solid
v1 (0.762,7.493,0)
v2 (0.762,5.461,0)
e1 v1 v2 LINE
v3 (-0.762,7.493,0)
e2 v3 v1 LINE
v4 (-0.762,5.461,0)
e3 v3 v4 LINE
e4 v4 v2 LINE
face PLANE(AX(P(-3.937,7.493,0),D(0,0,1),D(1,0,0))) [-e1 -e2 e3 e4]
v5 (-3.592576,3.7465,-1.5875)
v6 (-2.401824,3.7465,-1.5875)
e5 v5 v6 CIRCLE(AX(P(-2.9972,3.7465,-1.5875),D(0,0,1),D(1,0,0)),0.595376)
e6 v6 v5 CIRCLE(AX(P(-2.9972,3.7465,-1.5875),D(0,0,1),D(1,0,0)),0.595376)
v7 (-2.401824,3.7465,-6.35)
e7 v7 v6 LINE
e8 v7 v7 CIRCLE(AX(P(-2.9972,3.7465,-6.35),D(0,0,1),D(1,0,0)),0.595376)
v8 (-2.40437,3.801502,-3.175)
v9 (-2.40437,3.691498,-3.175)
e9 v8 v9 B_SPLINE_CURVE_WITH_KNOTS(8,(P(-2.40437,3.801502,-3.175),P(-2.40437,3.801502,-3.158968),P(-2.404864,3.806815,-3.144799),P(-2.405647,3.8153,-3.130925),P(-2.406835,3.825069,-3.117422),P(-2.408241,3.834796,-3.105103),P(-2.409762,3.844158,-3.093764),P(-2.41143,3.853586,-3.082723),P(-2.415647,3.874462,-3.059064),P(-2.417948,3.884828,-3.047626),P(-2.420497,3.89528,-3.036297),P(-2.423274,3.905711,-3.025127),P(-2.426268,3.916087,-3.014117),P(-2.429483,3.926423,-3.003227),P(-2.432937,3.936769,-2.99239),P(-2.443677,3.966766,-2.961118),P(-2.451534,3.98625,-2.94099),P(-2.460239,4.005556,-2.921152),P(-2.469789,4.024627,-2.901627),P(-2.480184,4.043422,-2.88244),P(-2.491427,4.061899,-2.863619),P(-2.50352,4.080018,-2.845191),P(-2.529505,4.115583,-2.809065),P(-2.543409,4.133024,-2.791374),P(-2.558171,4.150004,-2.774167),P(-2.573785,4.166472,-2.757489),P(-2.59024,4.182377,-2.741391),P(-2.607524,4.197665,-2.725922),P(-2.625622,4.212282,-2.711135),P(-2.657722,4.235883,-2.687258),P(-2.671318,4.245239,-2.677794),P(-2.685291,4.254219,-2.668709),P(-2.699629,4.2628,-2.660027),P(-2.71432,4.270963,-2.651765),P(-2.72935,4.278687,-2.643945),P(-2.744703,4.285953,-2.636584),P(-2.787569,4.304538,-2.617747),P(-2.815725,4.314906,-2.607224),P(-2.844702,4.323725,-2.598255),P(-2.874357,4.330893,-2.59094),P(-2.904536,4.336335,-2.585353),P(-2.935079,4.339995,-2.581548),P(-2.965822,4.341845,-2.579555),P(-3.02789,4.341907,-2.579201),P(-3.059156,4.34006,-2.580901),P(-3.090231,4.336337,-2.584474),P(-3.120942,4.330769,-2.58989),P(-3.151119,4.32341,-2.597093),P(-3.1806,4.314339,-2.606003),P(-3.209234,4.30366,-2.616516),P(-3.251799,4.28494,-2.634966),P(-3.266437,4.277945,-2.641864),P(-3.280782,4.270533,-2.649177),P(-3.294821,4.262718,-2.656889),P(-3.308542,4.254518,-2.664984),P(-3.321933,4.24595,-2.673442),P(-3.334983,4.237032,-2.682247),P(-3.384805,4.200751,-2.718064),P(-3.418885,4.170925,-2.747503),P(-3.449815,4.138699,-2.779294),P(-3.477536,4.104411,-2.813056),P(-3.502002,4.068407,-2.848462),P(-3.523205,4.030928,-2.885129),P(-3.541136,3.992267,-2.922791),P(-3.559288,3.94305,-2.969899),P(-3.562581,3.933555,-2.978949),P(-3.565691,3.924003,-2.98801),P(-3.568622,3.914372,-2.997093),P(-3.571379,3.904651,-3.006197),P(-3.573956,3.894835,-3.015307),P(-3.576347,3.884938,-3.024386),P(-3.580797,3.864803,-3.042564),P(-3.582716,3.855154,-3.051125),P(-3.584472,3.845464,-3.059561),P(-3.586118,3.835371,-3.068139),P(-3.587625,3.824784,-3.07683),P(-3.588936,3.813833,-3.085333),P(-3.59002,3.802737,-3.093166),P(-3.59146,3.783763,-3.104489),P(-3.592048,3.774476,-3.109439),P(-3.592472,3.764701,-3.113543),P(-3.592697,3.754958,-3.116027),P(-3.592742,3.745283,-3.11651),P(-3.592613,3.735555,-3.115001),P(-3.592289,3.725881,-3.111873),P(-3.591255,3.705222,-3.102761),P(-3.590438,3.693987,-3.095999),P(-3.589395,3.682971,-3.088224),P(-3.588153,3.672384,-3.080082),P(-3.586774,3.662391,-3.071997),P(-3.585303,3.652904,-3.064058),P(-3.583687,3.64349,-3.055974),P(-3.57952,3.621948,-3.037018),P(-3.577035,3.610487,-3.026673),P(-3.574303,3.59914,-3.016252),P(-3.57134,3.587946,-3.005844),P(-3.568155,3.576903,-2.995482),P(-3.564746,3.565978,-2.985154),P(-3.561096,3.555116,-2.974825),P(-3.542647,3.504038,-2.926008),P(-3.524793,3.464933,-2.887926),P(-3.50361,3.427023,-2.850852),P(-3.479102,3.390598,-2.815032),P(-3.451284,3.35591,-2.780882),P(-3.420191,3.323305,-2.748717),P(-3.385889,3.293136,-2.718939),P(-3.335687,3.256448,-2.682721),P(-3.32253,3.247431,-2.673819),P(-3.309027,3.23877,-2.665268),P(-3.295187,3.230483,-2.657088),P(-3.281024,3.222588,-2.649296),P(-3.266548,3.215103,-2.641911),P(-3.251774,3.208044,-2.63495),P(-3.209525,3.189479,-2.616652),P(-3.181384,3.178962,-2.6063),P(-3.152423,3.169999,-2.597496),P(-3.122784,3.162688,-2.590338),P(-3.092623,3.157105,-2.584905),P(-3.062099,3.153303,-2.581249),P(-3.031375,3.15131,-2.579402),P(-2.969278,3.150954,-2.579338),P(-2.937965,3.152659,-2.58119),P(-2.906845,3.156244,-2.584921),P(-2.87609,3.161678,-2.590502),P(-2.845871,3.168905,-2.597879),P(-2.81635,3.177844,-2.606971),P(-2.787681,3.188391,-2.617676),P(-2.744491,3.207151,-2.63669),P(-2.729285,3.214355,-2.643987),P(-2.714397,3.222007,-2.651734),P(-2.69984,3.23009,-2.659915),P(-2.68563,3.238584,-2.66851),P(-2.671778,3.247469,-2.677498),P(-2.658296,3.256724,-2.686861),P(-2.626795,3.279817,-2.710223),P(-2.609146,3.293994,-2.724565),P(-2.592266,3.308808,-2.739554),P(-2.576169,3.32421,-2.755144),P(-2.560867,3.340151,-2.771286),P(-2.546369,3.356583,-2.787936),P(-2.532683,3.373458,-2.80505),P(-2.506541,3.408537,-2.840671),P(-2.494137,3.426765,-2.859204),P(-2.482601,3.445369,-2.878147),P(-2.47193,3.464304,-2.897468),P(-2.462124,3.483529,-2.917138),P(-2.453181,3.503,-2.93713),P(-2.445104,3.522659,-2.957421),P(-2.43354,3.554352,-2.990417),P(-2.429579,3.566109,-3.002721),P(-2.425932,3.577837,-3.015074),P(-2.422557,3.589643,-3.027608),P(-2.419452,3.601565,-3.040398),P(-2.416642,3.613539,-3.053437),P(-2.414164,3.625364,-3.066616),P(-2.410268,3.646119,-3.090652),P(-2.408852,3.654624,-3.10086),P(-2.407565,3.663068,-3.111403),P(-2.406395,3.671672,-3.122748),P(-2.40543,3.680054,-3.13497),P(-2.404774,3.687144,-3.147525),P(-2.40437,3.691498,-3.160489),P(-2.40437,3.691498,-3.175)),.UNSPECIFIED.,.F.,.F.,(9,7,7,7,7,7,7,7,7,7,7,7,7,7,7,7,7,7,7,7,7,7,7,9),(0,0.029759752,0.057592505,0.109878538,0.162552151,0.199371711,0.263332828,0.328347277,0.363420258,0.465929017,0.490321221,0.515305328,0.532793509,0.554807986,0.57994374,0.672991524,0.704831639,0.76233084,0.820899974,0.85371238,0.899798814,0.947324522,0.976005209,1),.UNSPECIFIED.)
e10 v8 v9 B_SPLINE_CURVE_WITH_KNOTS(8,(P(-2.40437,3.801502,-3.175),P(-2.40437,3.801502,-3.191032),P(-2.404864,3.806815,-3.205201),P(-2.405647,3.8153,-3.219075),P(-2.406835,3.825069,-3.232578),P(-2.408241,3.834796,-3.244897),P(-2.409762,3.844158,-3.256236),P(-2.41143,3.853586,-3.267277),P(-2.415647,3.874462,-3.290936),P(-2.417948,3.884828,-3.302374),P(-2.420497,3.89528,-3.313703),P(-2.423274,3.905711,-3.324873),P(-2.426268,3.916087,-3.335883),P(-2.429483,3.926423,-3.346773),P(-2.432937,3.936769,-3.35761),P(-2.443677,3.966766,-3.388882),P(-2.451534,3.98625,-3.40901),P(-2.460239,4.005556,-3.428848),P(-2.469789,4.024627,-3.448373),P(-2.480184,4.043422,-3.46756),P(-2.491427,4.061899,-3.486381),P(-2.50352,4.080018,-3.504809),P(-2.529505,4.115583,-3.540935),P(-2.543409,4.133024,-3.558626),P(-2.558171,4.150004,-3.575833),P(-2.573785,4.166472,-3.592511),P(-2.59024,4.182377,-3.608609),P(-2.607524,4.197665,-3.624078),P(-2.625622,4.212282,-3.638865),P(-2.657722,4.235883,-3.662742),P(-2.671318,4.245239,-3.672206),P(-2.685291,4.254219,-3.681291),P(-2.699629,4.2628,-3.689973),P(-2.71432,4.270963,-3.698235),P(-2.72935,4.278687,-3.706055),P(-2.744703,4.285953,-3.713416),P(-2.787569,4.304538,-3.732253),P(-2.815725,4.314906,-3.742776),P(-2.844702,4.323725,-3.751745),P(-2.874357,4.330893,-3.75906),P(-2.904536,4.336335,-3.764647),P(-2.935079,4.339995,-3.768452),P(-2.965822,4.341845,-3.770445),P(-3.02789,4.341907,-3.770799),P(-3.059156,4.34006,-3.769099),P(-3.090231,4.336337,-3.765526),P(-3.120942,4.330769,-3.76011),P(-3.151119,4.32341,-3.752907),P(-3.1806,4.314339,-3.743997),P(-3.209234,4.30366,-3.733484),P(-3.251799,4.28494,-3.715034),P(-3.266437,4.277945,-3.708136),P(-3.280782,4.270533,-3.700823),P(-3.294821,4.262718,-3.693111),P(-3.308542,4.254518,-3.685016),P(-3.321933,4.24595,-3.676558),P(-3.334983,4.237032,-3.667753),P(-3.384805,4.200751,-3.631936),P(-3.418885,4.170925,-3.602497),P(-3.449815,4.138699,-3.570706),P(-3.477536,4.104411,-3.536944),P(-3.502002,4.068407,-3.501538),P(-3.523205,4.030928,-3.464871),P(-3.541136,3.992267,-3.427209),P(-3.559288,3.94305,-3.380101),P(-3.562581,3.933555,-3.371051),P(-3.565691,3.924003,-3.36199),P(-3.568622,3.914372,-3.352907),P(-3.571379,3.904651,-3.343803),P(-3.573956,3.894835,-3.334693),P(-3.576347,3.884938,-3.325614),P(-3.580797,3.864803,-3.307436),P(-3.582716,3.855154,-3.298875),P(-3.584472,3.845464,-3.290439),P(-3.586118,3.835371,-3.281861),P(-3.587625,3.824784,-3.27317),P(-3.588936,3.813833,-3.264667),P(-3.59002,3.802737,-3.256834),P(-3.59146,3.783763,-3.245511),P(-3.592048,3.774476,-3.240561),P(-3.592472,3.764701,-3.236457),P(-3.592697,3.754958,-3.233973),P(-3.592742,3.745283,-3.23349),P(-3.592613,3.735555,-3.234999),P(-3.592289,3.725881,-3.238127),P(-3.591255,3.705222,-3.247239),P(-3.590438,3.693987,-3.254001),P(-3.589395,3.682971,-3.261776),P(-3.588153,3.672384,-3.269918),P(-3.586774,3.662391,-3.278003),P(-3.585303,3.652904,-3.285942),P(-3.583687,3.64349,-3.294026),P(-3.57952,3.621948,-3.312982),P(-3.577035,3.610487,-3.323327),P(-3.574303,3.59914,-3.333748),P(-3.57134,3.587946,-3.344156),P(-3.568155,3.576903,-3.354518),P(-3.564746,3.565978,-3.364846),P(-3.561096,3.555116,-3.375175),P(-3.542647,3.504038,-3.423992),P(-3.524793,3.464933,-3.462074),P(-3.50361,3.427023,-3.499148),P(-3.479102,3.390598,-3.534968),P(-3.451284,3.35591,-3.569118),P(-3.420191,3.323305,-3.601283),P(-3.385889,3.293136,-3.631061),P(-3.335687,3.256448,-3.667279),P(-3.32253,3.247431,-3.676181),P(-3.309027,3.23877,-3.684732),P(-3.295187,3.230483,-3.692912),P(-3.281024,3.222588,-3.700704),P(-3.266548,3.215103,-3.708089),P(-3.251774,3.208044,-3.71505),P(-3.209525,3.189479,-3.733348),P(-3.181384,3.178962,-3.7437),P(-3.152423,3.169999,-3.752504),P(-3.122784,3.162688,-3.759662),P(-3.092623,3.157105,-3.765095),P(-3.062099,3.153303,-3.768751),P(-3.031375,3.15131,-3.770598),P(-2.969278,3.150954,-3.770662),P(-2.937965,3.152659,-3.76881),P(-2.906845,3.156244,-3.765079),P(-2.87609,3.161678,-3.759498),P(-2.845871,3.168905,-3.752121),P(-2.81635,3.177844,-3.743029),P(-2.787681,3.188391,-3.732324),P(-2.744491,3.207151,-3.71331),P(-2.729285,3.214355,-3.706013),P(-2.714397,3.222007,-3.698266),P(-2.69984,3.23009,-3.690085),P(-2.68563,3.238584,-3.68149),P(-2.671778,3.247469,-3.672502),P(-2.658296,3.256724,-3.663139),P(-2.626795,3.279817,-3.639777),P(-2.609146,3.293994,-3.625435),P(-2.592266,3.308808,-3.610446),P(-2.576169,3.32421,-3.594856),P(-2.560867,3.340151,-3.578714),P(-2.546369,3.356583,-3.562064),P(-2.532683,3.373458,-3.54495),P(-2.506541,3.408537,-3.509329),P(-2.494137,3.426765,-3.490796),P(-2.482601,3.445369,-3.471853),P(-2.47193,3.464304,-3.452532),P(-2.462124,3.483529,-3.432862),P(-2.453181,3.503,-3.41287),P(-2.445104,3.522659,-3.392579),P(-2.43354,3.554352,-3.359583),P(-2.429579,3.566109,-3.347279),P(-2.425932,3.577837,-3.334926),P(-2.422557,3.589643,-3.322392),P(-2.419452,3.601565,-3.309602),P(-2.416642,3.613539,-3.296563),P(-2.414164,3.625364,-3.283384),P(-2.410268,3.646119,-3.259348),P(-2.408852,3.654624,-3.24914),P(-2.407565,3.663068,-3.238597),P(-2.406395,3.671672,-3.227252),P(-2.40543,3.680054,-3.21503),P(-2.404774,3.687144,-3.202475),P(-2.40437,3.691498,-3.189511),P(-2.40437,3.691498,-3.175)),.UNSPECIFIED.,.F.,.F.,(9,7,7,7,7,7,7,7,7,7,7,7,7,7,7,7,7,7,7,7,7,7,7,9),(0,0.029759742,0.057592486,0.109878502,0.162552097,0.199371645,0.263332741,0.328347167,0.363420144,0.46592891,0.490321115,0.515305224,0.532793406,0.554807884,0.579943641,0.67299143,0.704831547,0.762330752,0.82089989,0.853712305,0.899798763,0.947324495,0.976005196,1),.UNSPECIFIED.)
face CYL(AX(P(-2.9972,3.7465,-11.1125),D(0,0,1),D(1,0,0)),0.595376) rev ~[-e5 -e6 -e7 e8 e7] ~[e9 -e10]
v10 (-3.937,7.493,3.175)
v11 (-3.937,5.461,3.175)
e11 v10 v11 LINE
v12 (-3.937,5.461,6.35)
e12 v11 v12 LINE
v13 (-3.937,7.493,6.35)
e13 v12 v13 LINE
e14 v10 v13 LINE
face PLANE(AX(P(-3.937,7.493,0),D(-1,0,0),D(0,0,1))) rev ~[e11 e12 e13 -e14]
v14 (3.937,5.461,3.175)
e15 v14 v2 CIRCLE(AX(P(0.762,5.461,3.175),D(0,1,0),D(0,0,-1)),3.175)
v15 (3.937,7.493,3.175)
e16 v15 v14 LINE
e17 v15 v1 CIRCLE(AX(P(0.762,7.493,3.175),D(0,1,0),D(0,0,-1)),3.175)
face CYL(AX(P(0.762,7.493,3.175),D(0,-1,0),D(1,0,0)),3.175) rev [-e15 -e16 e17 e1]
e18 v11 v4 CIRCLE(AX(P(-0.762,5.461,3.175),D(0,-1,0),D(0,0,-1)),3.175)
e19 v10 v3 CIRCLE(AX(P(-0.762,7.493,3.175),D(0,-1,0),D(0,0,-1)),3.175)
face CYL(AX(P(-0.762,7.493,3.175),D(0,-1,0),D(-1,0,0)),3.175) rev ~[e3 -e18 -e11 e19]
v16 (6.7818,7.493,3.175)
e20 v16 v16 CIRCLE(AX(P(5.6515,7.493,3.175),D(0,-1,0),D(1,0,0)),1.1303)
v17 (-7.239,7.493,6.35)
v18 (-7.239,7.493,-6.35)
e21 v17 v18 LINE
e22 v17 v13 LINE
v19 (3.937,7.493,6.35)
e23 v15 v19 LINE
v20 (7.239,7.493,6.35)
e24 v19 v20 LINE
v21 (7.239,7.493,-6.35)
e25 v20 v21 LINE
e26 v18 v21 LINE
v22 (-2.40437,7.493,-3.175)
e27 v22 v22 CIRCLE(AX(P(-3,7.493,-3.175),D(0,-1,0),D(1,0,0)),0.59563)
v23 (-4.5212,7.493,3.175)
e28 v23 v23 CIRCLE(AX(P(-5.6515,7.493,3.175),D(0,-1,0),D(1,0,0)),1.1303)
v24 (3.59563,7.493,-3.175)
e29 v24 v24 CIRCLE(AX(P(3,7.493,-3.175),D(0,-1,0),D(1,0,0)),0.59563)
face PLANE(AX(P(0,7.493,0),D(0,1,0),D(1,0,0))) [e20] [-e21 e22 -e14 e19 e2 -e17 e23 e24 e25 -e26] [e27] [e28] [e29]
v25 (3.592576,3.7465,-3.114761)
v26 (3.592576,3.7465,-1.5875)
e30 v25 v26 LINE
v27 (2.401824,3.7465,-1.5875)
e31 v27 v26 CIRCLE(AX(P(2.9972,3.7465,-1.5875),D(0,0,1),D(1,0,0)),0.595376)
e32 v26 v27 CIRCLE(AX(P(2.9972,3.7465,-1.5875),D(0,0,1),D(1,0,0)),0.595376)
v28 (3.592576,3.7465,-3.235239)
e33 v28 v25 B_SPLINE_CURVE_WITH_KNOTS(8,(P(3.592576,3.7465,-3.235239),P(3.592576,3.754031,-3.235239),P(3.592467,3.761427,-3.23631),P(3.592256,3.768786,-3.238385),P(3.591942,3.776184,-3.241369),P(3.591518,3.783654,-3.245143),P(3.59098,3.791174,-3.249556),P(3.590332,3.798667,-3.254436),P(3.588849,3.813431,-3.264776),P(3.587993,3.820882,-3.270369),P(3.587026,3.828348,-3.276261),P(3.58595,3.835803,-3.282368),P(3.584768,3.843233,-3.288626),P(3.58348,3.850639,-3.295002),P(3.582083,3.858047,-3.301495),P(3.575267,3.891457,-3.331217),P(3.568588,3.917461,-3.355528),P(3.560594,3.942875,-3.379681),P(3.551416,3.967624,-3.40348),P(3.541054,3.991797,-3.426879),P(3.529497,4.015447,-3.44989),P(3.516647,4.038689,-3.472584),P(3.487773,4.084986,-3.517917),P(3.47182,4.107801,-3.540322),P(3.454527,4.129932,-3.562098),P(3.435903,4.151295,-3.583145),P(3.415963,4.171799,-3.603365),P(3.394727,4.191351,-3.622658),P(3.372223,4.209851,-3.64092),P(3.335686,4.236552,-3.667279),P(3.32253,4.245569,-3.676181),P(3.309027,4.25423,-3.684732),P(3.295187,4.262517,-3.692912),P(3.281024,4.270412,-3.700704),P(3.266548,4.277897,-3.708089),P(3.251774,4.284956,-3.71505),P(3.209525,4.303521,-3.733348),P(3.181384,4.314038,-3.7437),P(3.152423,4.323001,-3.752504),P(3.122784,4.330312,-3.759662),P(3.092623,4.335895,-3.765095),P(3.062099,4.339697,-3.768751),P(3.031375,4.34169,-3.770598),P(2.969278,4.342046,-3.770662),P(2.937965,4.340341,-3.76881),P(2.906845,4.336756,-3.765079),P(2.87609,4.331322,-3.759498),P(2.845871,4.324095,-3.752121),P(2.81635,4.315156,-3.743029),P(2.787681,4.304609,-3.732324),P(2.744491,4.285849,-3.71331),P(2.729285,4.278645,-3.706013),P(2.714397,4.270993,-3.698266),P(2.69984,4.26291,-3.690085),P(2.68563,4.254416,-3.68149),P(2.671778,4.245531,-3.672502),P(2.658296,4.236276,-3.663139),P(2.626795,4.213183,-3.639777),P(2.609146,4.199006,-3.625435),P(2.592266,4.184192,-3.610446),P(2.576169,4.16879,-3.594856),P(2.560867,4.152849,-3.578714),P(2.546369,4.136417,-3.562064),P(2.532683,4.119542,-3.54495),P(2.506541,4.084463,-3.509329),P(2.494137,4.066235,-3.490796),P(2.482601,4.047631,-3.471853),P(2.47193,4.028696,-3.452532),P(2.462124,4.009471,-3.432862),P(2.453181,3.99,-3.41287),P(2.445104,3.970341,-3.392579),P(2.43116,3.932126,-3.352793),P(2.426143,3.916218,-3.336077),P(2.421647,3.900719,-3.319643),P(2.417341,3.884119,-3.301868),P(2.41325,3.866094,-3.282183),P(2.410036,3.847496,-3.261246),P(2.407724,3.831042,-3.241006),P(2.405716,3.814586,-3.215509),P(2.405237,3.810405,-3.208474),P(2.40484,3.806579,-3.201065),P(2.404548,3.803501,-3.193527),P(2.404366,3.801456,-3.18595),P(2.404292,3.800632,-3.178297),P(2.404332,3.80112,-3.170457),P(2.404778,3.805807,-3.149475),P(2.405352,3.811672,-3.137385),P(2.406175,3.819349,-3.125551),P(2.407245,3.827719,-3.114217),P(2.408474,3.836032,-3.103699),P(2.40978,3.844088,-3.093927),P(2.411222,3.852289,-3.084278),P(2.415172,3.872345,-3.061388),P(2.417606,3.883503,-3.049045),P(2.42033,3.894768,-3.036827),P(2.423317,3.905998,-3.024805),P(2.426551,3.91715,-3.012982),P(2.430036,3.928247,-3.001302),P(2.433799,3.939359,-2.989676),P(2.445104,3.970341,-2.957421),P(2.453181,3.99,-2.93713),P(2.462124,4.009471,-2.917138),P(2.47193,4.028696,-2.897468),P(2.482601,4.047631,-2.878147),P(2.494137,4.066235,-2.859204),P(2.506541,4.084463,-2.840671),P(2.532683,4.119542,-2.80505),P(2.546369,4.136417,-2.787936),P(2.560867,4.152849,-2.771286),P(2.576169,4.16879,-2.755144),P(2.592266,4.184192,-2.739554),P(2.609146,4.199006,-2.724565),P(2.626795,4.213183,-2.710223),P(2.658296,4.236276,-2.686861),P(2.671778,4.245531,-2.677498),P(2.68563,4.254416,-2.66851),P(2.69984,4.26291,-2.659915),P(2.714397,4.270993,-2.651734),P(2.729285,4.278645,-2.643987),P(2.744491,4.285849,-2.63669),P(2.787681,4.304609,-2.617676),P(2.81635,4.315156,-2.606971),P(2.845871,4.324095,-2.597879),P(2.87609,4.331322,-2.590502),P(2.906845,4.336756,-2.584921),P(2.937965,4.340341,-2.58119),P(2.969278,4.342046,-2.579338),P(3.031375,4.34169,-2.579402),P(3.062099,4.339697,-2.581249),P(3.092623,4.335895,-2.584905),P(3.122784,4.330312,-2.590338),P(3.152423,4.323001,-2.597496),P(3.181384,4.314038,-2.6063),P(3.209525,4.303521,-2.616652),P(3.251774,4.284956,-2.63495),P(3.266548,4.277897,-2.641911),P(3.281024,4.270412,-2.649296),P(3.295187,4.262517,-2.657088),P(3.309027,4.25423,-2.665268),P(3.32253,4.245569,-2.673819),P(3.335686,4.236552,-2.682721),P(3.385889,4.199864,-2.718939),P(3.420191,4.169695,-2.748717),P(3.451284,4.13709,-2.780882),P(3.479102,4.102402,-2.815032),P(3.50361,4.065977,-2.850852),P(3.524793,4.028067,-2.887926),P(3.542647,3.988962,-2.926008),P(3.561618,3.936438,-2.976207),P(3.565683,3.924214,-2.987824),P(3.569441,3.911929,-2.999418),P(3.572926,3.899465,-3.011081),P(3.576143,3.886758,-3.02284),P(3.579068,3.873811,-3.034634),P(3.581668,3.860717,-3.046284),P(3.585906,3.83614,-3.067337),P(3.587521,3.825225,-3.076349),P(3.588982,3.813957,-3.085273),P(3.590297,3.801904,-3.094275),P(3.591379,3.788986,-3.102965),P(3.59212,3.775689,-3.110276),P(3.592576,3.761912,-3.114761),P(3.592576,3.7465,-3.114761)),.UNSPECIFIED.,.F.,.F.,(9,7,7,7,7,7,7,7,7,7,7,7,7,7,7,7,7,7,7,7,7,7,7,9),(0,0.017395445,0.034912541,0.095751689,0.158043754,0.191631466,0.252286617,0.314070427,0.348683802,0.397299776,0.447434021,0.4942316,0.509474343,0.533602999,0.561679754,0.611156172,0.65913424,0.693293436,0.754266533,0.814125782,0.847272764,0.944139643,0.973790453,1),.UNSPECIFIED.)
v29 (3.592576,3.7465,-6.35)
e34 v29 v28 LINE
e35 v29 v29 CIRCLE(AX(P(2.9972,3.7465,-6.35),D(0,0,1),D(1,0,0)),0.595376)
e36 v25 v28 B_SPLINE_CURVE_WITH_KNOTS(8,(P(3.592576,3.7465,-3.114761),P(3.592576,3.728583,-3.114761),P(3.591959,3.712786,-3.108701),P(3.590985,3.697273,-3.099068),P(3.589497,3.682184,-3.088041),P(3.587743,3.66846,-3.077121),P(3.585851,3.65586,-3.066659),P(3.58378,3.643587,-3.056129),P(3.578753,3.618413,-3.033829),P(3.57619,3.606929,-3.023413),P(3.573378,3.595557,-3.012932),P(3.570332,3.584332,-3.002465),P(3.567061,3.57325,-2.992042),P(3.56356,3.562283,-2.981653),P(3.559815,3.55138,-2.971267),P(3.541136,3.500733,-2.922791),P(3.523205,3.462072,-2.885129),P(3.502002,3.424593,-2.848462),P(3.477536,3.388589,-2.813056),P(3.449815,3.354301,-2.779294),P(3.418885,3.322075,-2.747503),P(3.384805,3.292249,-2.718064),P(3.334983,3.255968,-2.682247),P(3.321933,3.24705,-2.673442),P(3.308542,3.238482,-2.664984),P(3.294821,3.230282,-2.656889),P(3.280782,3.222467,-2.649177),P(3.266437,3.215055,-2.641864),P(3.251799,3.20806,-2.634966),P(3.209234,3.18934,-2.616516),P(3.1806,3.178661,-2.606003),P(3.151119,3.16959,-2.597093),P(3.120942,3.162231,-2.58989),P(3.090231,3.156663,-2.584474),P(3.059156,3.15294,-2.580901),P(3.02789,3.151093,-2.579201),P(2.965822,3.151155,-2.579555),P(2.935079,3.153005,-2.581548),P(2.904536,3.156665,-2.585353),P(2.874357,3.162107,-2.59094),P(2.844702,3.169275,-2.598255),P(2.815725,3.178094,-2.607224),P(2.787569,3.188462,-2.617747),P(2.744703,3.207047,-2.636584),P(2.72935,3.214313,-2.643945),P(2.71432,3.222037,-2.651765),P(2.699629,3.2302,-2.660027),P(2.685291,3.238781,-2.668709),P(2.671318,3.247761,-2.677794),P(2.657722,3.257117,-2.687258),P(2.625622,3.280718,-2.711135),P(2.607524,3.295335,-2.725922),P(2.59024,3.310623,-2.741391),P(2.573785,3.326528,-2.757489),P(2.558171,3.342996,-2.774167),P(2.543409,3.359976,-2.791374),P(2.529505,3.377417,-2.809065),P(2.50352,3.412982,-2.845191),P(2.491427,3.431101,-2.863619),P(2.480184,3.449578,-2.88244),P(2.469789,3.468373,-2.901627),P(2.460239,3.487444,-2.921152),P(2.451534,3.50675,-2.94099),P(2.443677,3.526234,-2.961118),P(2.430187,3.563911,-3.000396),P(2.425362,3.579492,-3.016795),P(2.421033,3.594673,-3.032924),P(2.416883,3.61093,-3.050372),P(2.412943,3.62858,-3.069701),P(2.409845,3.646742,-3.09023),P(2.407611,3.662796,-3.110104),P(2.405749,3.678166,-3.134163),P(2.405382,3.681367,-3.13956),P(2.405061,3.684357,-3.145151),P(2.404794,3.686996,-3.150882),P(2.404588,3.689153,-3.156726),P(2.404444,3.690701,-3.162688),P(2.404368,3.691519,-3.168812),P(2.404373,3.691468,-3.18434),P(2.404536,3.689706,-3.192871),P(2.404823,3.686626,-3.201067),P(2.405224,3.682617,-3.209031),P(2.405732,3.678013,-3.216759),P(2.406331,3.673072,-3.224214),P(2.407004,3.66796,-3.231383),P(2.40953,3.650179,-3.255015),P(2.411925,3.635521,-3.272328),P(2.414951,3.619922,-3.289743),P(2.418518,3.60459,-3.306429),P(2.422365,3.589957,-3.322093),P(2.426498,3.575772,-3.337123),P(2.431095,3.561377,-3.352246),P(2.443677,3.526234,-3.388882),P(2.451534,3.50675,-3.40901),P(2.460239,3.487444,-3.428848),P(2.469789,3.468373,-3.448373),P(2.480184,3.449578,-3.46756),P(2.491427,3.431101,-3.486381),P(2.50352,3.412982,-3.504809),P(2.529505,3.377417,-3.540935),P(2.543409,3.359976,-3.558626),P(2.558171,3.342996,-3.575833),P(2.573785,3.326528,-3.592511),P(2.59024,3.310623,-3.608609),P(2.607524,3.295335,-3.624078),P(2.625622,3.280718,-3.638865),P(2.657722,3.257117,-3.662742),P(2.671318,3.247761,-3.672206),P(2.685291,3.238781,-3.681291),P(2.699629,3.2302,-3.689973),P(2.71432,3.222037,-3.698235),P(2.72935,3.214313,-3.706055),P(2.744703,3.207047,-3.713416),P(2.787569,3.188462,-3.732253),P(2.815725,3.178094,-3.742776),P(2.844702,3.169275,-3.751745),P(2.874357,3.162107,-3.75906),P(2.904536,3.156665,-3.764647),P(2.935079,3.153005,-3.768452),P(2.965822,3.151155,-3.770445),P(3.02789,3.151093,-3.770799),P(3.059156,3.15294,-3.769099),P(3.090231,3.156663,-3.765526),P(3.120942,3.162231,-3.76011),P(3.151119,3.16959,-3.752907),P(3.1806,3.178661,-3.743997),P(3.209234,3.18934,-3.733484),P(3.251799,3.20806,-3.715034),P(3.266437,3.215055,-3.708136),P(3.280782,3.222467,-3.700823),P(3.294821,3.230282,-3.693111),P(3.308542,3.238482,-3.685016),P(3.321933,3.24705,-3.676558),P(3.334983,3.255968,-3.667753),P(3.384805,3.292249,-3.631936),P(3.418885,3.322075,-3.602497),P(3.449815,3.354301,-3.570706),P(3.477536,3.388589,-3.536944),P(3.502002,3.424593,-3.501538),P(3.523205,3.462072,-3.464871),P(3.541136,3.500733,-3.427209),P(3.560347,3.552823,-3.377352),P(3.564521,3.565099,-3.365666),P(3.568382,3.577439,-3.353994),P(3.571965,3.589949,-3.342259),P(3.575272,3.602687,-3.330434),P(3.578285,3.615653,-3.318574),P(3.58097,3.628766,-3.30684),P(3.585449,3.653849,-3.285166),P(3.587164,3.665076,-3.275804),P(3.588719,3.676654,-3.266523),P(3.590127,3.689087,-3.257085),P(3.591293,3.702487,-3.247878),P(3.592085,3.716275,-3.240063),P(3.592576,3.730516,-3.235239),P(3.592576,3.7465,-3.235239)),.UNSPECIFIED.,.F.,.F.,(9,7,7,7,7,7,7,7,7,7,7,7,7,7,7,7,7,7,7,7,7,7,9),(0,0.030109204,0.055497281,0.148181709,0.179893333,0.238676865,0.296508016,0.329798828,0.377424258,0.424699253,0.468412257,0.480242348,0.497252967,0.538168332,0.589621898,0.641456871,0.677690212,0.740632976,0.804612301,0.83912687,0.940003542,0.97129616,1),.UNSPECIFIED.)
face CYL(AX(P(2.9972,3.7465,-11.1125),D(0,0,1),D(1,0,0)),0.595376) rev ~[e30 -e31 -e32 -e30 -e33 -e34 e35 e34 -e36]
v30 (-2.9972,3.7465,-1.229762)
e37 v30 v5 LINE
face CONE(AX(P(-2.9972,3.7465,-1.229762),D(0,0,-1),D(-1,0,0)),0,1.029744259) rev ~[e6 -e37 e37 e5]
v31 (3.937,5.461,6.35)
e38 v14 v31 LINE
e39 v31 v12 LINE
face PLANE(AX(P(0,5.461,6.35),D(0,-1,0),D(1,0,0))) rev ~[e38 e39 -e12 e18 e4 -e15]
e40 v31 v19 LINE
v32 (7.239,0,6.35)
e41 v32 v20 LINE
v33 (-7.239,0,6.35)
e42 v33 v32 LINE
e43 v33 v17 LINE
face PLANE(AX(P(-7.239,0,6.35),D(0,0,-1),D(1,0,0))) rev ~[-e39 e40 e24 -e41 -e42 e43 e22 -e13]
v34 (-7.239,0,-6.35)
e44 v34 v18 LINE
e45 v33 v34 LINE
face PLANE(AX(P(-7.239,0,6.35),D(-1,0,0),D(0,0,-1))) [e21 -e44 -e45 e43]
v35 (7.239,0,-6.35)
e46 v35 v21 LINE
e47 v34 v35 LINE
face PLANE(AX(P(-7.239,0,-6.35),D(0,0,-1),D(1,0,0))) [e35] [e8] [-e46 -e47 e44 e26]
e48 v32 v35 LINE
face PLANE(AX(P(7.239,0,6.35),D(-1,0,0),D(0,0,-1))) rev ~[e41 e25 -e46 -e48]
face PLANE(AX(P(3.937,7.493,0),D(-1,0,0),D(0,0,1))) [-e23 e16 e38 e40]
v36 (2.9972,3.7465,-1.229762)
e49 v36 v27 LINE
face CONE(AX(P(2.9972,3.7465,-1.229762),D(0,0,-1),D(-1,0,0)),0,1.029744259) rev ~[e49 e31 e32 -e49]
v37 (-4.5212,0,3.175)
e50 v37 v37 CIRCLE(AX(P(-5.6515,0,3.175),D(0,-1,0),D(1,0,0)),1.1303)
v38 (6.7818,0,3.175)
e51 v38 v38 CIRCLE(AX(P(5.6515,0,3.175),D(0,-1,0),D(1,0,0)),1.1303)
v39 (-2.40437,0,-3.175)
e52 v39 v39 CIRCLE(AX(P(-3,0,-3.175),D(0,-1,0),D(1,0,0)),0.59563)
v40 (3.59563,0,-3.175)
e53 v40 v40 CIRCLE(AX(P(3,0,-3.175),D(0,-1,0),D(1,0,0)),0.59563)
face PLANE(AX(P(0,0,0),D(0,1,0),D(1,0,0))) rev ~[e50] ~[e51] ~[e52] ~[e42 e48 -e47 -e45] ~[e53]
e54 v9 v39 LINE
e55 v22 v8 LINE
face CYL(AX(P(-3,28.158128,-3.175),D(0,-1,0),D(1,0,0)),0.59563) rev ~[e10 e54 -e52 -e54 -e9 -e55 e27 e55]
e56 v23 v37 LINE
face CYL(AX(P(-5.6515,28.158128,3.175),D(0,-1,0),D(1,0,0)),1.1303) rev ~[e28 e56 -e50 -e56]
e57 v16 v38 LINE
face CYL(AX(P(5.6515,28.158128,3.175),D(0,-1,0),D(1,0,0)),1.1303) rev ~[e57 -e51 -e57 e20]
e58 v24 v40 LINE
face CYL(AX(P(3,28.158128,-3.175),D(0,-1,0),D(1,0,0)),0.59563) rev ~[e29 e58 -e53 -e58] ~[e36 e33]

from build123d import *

# Parameters (mm, degrees)
SKETCH1_W                           = 14.478
SKETCH1_H                           = 12.7
BOSS_EXTRUDE1_DEPTH                 = 7.493
F_0_80_TAPPED_HOLE1_D               = 1.19126
F_2_CLEARANCE_HOLE1_D               = 2.2606
F_3_64_0_04688_DIAMETER_HOLE1_D     = 1.190752
F_3_64_0_04688_DIAMETER_HOLE1_DEPTH = 4.7625
F_3_64_0_04688_DIAMETER_HOLE1_TIP   = 0.357737992
SKETCH8_W                           = 7.874
SKETCH8_H                           = 12.7
CUT_EXTRUDE1_DEPTH                  = 2.032
FILLET1_R                           = 3.175


with BuildPart() as part:
    # Sketch1 → Boss-Extrude1 (new body)
    with BuildSketch(Plane(origin=(0, 0, 0), x_dir=(1, 0, 0), z_dir=(0, 1, 0))):
        Rectangle(SKETCH1_W, SKETCH1_H)
    extrude(amount=BOSS_EXTRUDE1_DEPTH)

    # #0-80 Tapped Hole1 (through all)
    with Locations(Plane(origin=(0, 7.493, 0), x_dir=(-1, 0, 0), z_dir=(0, 1, 0))):
        with Locations((3, -3.175), (-3, -3.175)):
            Hole(F_0_80_TAPPED_HOLE1_D / 2)

    # #2 Clearance Hole1 (through all)
    with Locations(Plane(origin=(0, 7.493, 0), x_dir=(-1, 0, 0), z_dir=(0, 1, 0))):
        with Locations((5.6515, 3.175), (-5.6515, 3.175)):
            Hole(F_2_CLEARANCE_HOLE1_D / 2)

    # 3/64 (0.04688) Diameter Hole1
    with Locations(Plane(origin=(0, 0, -6.35), x_dir=(-1, 0, 0), z_dir=(0, 0, -1))):
        with Locations((-2.9972, 3.7465), (2.9972, 3.7465)):
            Hole(F_3_64_0_04688_DIAMETER_HOLE1_D / 2, depth=F_3_64_0_04688_DIAMETER_HOLE1_DEPTH)
            with Locations((0, 0, -(F_3_64_0_04688_DIAMETER_HOLE1_DEPTH + F_3_64_0_04688_DIAMETER_HOLE1_TIP / 2))):  # 118° drill point
                Cone(0, F_3_64_0_04688_DIAMETER_HOLE1_D / 2, F_3_64_0_04688_DIAMETER_HOLE1_TIP, mode=Mode.SUBTRACT)

    # Sketch8 → Cut-Extrude1 (cut)
    with BuildSketch(Plane.XZ.offset(-7.493)):
        with Locations((0, 6.35)):
            Rectangle(SKETCH8_W, SKETCH8_H)
    extrude(amount=CUT_EXTRUDE1_DEPTH, mode=Mode.SUBTRACT)

    # Fillet1
    fillet1_edges = [part.edges().sort_by_distance(p)[0] for p in [
        (3.937, 6.477, 0),
        (-3.937, 6.477, 0),
    ]]
    fillet(fillet1_edges, radius=FILLET1_R)


solid = part.part
